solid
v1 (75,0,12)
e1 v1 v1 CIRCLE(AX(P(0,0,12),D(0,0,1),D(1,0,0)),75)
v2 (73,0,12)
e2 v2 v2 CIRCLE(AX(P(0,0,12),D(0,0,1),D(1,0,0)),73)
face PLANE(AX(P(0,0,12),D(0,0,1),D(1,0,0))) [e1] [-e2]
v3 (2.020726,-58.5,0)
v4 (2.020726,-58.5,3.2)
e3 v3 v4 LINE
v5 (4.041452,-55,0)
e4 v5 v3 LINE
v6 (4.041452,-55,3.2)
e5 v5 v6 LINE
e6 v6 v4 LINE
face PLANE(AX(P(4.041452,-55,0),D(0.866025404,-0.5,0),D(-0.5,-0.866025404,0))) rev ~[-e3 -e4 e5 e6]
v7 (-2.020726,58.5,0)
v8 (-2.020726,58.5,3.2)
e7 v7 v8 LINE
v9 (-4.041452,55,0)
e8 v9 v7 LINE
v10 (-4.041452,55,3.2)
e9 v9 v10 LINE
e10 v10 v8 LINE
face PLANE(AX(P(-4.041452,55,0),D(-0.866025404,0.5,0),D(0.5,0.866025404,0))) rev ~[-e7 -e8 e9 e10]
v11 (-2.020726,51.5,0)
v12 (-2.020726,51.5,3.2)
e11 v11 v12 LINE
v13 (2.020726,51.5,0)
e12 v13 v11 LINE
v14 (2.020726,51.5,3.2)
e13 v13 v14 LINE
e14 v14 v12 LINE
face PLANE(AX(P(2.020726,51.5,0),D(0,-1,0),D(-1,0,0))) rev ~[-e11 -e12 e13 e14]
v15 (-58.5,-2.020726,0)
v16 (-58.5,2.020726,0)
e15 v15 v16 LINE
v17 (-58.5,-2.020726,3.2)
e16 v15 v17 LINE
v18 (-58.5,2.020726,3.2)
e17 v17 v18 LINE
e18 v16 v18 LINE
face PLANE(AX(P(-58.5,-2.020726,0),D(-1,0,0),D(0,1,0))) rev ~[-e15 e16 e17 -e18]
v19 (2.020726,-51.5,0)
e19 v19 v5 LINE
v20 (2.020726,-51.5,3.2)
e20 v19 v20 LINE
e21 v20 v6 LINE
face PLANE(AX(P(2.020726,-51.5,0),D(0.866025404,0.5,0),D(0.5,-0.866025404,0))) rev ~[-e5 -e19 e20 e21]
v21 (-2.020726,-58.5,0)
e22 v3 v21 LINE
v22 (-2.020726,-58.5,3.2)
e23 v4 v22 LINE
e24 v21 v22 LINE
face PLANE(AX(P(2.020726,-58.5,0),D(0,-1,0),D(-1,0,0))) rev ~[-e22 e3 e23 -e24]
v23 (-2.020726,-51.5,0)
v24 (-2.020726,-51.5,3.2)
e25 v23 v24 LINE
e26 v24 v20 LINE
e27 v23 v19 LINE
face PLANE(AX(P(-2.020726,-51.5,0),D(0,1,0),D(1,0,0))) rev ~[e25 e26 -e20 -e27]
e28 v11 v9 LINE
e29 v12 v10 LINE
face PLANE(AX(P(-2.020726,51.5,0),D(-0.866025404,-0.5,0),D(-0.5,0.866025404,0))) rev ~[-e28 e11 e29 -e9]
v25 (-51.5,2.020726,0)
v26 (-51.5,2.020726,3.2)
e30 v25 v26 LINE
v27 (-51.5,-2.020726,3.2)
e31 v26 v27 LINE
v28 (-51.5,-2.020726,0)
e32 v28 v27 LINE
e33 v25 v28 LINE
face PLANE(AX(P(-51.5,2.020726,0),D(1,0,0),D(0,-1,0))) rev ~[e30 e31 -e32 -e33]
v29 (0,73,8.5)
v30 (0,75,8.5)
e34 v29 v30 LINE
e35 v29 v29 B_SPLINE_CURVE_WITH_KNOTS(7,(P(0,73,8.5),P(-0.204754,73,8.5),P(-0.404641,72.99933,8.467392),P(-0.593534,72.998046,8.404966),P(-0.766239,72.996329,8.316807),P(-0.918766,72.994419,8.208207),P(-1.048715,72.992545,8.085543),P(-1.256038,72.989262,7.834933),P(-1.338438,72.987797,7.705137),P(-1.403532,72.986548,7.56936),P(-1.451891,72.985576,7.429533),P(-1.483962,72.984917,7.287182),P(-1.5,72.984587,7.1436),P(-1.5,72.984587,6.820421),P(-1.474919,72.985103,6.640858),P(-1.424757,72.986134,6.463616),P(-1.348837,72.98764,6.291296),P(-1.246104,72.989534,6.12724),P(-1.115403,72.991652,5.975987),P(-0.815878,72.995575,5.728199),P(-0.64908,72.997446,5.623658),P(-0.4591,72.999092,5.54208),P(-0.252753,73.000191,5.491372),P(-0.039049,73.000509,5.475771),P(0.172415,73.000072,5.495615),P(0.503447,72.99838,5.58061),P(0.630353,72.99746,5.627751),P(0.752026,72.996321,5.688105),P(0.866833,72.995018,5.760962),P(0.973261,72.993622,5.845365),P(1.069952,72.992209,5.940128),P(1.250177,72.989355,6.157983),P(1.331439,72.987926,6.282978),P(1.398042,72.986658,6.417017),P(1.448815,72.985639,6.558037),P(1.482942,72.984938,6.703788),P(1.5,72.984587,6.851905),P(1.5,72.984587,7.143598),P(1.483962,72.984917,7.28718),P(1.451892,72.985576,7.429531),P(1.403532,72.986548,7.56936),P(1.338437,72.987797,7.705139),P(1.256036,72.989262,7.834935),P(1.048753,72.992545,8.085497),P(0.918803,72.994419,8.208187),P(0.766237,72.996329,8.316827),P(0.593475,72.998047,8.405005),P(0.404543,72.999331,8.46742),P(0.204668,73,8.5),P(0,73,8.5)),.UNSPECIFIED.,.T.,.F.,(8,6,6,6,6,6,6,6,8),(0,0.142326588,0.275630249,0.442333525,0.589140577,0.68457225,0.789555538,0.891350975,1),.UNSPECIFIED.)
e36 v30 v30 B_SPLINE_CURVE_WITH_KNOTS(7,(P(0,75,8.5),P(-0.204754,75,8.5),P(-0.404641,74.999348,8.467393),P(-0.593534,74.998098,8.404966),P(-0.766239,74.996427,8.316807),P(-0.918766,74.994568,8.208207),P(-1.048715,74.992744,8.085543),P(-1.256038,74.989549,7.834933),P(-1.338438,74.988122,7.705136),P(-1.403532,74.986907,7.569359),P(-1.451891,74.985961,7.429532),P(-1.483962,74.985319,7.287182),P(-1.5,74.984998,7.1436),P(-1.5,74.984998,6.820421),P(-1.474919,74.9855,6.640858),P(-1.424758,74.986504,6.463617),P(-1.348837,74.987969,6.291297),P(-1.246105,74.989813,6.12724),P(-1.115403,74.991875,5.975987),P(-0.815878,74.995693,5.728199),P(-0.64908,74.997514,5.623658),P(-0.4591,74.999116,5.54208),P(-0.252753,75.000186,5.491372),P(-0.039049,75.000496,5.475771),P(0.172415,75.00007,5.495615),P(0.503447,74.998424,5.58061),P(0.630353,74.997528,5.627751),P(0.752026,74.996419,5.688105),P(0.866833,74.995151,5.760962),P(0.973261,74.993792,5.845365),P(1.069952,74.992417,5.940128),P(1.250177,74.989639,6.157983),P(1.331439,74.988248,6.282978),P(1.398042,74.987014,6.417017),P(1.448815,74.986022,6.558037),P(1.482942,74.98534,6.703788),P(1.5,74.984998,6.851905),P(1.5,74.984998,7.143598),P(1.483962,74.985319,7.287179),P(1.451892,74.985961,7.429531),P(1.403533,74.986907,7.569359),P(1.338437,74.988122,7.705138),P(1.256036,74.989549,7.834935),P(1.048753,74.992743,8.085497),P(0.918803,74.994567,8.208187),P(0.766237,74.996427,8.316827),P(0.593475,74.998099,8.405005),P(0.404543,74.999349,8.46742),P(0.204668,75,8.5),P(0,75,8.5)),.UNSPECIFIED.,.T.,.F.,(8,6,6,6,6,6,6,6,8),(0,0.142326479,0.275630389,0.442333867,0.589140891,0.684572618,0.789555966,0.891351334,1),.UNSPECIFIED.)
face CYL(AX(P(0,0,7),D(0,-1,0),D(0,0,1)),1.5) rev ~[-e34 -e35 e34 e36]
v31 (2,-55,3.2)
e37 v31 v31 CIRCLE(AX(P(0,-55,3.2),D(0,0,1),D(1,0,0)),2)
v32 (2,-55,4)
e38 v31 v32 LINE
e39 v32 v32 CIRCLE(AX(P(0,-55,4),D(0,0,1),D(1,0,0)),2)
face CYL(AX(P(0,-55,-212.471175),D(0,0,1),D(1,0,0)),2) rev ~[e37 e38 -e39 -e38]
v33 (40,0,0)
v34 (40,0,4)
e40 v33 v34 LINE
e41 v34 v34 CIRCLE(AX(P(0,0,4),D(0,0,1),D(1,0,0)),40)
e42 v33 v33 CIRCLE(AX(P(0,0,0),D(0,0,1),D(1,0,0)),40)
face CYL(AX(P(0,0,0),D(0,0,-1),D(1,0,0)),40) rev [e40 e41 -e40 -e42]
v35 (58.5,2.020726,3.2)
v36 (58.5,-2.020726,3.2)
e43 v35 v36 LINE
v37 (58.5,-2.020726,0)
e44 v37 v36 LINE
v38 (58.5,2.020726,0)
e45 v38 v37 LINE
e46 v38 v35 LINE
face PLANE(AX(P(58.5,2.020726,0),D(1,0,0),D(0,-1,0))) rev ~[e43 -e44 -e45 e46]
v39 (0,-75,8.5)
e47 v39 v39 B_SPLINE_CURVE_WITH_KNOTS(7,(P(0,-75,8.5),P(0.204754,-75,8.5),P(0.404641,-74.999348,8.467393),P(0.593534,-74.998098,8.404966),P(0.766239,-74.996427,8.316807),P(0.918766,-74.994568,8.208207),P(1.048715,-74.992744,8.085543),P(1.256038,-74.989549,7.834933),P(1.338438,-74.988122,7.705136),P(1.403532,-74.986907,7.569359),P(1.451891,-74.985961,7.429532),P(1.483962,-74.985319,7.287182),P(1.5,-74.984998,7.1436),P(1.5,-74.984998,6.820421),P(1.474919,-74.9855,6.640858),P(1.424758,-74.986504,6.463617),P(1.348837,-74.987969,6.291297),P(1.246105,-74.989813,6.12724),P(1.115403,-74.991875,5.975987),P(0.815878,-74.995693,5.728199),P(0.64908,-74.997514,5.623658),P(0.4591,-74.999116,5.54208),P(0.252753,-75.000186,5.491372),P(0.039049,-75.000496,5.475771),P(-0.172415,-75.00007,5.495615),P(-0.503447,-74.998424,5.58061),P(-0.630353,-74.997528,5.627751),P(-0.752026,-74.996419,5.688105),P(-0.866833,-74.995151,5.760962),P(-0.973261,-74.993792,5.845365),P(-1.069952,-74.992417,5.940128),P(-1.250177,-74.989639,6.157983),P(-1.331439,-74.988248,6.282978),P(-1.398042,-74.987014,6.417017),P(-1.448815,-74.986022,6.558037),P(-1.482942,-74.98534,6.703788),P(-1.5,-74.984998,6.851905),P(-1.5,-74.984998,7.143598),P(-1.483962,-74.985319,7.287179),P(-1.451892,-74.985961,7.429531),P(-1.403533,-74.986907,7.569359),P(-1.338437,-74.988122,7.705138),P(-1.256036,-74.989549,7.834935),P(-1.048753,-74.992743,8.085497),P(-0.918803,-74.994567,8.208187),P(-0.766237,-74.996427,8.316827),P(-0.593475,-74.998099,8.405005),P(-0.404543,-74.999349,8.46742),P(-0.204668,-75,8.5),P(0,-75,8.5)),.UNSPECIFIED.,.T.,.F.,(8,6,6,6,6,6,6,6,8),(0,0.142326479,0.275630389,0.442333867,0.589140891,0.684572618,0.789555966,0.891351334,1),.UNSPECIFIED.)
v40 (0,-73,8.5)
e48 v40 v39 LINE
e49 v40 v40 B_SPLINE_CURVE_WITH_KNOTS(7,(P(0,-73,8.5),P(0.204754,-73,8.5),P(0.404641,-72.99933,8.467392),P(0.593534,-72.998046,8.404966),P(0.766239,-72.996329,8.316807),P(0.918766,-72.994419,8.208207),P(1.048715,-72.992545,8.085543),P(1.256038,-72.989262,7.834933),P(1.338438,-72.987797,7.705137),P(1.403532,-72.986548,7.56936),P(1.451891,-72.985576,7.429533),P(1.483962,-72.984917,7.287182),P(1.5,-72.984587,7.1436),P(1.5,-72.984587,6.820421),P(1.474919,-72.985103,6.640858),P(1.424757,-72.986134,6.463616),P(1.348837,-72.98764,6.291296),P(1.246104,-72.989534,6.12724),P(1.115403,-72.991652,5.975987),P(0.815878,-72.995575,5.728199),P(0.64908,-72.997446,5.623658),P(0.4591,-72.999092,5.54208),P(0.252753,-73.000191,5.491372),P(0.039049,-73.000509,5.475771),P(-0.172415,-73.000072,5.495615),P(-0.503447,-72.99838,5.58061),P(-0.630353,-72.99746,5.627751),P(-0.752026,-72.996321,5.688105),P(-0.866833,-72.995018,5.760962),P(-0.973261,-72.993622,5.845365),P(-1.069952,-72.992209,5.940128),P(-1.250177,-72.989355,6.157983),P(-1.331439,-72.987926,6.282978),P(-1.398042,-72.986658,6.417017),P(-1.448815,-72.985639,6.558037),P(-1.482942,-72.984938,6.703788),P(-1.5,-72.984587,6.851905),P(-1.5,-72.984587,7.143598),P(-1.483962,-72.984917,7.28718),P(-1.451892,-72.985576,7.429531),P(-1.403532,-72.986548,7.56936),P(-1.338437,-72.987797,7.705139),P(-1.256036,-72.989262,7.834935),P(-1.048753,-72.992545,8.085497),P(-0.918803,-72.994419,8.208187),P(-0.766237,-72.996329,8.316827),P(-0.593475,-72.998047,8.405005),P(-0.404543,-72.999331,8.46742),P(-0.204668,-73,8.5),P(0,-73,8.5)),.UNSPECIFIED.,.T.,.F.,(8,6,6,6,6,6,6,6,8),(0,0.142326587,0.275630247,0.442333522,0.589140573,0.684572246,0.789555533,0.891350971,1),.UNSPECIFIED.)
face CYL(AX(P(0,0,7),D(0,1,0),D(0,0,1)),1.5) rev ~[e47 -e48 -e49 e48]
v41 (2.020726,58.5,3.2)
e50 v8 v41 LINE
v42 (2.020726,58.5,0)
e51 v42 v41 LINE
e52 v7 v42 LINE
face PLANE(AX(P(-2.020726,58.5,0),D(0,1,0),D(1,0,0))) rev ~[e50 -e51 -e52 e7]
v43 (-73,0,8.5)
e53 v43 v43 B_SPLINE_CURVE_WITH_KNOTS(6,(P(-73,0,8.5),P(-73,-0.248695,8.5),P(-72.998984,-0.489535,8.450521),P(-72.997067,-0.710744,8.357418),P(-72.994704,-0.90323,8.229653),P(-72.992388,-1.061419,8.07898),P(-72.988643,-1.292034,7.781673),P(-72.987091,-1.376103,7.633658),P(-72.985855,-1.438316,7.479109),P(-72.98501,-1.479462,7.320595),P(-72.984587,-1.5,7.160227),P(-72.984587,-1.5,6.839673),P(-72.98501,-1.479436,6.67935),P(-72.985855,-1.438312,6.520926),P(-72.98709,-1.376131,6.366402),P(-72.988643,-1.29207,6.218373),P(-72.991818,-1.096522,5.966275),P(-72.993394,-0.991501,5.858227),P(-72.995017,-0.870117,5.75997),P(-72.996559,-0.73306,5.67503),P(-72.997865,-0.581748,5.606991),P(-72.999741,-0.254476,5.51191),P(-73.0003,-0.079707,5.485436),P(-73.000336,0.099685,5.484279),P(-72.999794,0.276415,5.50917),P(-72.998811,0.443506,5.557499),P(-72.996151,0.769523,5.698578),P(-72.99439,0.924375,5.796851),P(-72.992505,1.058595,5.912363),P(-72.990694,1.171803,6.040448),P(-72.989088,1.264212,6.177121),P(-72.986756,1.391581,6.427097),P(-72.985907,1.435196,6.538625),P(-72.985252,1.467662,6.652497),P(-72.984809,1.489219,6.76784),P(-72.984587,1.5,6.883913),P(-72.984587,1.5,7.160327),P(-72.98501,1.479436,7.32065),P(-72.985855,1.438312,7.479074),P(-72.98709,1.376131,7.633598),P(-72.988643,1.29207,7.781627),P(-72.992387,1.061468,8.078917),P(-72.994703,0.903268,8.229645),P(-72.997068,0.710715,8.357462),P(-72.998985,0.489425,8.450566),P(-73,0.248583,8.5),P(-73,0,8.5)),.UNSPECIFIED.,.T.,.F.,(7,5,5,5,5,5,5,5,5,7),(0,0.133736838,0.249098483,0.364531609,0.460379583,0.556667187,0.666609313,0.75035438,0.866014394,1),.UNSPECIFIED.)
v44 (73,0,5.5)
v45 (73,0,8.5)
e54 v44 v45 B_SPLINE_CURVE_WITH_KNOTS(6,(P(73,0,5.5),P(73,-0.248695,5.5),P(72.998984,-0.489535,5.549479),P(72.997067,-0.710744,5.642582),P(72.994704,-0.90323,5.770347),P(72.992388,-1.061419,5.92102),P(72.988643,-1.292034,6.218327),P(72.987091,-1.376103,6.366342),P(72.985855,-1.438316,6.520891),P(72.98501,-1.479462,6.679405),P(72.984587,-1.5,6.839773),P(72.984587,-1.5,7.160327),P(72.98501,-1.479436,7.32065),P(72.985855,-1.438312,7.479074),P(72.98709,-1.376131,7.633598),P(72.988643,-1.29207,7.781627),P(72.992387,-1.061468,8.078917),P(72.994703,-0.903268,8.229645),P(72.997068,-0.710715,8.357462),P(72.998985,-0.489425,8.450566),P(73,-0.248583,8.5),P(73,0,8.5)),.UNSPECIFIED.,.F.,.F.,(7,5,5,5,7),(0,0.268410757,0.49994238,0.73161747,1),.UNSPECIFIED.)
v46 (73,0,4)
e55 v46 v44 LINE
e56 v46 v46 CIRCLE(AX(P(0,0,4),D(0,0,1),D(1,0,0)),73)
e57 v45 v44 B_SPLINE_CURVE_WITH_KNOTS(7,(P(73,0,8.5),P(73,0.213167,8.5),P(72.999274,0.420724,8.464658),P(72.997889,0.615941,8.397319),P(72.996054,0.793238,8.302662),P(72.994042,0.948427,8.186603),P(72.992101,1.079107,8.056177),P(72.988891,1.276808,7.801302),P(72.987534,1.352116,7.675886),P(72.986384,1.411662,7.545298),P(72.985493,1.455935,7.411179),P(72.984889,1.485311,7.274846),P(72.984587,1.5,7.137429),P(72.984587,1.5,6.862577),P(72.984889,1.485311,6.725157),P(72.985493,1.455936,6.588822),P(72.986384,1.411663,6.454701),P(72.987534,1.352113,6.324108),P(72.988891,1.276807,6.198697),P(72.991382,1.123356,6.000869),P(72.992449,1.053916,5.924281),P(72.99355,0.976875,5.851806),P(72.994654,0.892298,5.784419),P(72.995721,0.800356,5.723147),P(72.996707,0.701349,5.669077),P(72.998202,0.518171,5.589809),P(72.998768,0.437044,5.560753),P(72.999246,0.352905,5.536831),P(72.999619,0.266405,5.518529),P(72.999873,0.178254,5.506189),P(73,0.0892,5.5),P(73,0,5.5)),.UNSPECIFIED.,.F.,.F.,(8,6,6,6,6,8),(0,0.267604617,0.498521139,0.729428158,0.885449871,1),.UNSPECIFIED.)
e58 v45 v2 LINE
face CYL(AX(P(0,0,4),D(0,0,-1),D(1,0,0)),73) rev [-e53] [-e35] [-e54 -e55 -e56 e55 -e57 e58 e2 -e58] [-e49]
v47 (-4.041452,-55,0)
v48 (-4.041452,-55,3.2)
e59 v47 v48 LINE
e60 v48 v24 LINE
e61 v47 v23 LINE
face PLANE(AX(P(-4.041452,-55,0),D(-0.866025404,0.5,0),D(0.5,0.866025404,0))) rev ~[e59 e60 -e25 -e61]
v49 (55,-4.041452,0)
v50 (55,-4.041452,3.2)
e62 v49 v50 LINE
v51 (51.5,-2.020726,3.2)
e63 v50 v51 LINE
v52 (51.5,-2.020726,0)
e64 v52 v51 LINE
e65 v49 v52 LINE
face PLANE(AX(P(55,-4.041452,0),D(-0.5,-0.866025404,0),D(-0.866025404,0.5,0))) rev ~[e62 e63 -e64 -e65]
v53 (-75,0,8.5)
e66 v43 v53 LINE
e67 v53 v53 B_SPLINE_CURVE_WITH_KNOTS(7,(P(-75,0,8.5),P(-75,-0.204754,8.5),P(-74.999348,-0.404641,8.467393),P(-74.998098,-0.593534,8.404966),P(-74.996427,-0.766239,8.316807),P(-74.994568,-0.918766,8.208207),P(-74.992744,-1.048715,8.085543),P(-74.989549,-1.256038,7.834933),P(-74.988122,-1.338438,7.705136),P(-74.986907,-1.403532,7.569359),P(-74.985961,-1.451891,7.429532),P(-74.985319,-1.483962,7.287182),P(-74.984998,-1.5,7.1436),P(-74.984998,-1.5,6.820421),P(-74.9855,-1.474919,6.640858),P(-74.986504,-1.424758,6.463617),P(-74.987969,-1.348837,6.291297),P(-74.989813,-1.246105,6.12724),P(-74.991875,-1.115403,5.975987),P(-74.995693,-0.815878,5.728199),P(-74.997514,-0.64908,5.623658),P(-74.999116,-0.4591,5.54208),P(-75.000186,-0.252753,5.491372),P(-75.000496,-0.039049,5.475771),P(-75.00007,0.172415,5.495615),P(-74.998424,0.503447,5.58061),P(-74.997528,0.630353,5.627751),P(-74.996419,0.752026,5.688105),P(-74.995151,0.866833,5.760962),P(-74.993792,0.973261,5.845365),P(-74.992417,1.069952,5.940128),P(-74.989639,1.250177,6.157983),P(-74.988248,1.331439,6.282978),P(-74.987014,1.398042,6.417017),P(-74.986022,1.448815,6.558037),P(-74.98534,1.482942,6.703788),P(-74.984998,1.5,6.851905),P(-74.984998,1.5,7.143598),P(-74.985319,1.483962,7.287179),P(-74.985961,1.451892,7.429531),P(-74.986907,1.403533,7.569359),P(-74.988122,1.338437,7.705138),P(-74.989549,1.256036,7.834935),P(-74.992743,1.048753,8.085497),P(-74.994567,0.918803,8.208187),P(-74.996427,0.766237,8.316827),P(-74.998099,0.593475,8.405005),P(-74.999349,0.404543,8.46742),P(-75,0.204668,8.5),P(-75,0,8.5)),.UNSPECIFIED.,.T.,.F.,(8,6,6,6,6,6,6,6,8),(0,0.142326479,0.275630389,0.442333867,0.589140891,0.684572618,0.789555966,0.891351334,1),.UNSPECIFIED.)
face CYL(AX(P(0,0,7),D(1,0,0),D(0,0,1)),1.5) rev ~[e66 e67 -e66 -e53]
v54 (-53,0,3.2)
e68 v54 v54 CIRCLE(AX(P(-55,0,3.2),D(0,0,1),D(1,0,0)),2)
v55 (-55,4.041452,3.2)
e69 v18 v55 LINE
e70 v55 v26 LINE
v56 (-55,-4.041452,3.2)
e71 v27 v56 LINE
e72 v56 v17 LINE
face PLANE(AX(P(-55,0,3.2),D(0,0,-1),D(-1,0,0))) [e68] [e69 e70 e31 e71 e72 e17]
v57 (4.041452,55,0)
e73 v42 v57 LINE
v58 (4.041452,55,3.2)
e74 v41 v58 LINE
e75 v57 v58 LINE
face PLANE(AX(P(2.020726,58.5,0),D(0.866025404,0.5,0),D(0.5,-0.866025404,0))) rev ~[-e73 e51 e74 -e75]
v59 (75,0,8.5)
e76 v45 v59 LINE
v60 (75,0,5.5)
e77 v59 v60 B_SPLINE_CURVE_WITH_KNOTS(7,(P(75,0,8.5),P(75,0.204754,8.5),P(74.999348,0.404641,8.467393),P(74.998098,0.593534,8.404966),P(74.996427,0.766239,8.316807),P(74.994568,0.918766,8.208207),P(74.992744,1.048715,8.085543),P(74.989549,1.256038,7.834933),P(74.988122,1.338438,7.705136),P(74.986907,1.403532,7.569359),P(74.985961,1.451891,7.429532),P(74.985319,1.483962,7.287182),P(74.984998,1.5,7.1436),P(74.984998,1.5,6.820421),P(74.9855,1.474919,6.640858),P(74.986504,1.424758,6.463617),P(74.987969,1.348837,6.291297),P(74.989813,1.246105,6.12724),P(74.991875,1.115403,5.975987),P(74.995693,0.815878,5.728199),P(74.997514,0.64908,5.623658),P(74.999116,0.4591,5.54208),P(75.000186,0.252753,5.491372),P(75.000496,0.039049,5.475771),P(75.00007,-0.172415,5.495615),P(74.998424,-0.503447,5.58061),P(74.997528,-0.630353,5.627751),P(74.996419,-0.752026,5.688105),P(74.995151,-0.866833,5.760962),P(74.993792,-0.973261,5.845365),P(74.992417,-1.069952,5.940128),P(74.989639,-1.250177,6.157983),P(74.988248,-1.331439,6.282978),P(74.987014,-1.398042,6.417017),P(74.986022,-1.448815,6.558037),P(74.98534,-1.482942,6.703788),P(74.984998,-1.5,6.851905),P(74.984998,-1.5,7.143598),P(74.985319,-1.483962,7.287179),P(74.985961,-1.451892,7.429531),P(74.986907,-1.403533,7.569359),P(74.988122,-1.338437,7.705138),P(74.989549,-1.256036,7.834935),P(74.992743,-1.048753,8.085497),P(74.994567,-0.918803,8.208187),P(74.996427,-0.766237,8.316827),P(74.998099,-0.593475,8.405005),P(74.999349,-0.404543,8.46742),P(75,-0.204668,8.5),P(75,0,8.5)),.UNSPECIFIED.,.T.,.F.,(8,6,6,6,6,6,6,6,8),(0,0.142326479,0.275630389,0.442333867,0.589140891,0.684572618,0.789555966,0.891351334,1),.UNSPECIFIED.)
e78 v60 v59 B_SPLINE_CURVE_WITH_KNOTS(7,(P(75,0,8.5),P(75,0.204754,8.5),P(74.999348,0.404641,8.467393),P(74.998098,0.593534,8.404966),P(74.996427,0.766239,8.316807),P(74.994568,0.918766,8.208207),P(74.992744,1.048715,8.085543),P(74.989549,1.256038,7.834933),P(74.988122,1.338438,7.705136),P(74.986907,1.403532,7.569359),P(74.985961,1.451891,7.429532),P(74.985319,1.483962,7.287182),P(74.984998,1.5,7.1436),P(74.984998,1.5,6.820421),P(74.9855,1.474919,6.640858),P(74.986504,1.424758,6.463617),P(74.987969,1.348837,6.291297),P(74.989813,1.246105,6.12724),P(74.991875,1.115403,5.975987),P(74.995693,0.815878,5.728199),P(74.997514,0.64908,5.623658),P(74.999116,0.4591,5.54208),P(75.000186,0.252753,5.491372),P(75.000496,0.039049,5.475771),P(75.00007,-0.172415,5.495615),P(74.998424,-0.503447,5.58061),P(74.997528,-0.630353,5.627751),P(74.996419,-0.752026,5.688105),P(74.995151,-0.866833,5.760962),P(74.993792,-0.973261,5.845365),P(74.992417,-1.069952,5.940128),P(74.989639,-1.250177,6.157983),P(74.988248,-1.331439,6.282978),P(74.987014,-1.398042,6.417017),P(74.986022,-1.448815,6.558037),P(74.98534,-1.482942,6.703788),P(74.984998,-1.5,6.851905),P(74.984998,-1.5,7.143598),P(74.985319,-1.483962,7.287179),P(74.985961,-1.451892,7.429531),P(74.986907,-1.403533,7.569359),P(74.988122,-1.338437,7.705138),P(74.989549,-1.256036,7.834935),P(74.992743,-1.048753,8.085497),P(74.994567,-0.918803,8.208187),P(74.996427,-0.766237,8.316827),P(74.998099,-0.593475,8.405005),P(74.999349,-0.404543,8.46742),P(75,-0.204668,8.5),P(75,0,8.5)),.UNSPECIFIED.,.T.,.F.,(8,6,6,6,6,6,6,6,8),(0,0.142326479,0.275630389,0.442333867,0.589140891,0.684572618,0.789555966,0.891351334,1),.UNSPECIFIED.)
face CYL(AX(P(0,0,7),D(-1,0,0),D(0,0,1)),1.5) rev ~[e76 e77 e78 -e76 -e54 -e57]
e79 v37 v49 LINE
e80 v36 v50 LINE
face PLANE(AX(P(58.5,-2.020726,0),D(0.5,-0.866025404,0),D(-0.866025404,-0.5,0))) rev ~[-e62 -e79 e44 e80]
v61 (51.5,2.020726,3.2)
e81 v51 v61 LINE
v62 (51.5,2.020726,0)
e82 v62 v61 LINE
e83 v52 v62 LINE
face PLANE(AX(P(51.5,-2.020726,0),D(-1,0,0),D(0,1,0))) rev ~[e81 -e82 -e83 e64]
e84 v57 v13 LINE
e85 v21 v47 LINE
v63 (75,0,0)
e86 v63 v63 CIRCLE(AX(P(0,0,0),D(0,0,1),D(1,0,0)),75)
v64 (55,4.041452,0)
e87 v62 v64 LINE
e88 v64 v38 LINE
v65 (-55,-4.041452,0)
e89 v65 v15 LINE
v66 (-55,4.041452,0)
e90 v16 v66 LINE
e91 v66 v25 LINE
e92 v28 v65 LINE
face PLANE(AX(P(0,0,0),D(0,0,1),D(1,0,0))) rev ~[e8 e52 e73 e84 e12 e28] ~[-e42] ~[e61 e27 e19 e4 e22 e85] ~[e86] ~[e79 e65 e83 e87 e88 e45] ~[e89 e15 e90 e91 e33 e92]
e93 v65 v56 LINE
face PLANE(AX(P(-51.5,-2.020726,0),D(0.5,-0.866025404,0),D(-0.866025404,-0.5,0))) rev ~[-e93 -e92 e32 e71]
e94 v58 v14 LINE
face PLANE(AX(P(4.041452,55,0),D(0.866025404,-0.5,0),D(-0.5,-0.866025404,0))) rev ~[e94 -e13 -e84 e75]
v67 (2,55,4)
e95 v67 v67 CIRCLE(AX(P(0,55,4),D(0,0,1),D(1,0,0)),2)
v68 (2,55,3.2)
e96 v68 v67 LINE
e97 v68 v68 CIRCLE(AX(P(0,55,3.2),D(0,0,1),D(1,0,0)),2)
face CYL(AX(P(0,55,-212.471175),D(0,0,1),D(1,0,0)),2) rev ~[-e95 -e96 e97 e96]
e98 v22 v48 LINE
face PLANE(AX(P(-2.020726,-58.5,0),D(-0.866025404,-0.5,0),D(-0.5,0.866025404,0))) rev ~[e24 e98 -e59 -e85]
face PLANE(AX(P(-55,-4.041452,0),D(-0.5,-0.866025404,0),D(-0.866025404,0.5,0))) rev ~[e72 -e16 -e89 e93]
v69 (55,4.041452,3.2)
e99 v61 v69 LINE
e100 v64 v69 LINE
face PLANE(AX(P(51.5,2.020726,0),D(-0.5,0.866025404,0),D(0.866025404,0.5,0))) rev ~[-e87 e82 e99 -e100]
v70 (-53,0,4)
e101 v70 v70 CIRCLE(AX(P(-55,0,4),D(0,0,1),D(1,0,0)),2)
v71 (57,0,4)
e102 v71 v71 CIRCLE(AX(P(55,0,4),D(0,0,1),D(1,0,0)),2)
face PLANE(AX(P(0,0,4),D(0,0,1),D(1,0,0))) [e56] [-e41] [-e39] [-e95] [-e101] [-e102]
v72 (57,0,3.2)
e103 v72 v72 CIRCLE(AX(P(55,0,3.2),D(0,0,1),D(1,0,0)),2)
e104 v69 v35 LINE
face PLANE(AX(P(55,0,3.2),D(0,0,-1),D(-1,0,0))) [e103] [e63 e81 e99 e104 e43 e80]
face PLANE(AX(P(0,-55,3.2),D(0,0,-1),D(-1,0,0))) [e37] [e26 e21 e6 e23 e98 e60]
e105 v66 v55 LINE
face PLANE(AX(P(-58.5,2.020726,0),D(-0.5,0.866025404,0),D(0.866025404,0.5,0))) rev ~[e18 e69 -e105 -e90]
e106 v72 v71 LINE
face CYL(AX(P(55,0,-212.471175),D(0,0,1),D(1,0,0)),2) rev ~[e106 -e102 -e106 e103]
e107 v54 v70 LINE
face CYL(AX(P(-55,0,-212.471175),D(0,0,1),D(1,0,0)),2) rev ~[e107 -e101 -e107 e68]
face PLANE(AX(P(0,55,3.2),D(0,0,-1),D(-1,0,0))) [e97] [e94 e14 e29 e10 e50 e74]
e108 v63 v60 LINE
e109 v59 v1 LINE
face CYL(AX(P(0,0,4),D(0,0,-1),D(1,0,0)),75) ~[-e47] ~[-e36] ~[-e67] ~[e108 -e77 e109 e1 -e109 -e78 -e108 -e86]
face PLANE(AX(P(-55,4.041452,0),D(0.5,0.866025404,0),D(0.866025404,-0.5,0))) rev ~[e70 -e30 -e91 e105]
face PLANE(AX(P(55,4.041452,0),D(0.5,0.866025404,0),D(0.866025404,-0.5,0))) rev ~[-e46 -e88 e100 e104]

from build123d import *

# Parameters (mm, degrees)
SKETCH1_R               = 75
SKETCH1_R_2             = 40
BOSS_EXTRUDE1_DEPTH     = 4
SKETCH2_R               = 75
SKETCH2_R_2             = 73
BOSS_EXTRUDE2_DEPTH     = 8
CUT_EXTRUDE1_REACH      = 108.743
CUT_EXTRUDE1_END_RADIUS = 75
SKETCH3_R               = 1.5
CIRPATTERN1_COUNT       = 4
F_4_0MM_DOWEL_HOLE1_D   = 4
CUT_EXTRUDE2_DEPTH      = 3.2


with BuildPart() as part:
    # Sketch1 → Boss-Extrude1 (new body)
    with BuildSketch(Plane.XY):
        Circle(SKETCH1_R)
        Circle(SKETCH1_R_2, mode=Mode.SUBTRACT)
    extrude(amount=BOSS_EXTRUDE1_DEPTH)

    # Sketch2 → Boss-Extrude2 (add)
    with BuildSketch(Plane.XY.offset(4)):
        Circle(SKETCH2_R)
        Circle(SKETCH2_R_2, mode=Mode.SUBTRACT)
    extrude(amount=BOSS_EXTRUDE2_DEPTH)

    # Cut-Extrude1: up to this cylinder (the profile starts inside it)
    cut_extrude1_end = Plane(origin=(0, 0, 7), z_dir=(0, 0, -1)) * Cylinder(CUT_EXTRUDE1_END_RADIUS, 368.486, mode=Mode.PRIVATE)
    # Sketch3 → Cut-Extrude1 (cut, up to the surface)
    with BuildSketch(Plane(origin=(0, 0, 0), x_dir=(1, 0, 0), z_dir=(0, 1, 0)), mode=Mode.PRIVATE) as cut_extrude1_sk1:
        with Locations(Location((0, -7, 0), (0, 0, 270))):
            Circle(SKETCH3_R)
    cut_extrude1_tool1 = extrude(cut_extrude1_sk1.sketch, amount=-CUT_EXTRUDE1_REACH, mode=Mode.PRIVATE) & cut_extrude1_end
    cut_extrude1 = cut_extrude1_tool1.solids().sort_by_distance((0, 0, 7))[0]
    add(cut_extrude1, mode=Mode.SUBTRACT)

    # CirPattern1: Cut-Extrude1 ×4 about axis
    cirpattern1_axis = Axis((0, 0, 4), (0, 0, -1))
    for i in range(1, CIRPATTERN1_COUNT):
        add(cut_extrude1.rotate(cirpattern1_axis, i * 360 / CIRPATTERN1_COUNT), mode=Mode.SUBTRACT)

    # Ø4.0mm Dowel Hole1 (through all)
    with Locations(Plane(origin=(0, 0, 0), x_dir=(-1, 0, 0), z_dir=(0, 0, -1))):
        with Locations((0, 55), (55, 0), (0, -55), (-55, 0)):
            Hole(F_4_0MM_DOWEL_HOLE1_D / 2)

    # Sketch13 → Cut-Extrude2 (cut)
    with BuildSketch(Plane(origin=(0, 0, 0), x_dir=(-1, 0, 0), z_dir=(0, 0, -1))):
        Polygon((4.041451884, 55), (2.020725942, 58.5), (-2.020725942, 58.5), (-4.041451884, 55), (-2.020725942, 51.5), (2.020725942, 51.5), align=None)
        Polygon((55, -4.041451884), (58.5, -2.020725942), (58.5, 2.020725942), (55, 4.041451884), (51.5, 2.020725942), (51.5, -2.020725942), align=None)
        Polygon((-4.041451884, -55), (-2.020725942, -58.5), (2.020725942, -58.5), (4.041451884, -55), (2.020725942, -51.5), (-2.020725942, -51.5), align=None)
        Polygon((-55, 4.041451884), (-58.5, 2.020725942), (-58.5, -2.020725942), (-55, -4.041451884), (-51.5, -2.020725942), (-51.5, 2.020725942), align=None)
    extrude(amount=-CUT_EXTRUDE2_DEPTH, mode=Mode.SUBTRACT)


solid = part.part
